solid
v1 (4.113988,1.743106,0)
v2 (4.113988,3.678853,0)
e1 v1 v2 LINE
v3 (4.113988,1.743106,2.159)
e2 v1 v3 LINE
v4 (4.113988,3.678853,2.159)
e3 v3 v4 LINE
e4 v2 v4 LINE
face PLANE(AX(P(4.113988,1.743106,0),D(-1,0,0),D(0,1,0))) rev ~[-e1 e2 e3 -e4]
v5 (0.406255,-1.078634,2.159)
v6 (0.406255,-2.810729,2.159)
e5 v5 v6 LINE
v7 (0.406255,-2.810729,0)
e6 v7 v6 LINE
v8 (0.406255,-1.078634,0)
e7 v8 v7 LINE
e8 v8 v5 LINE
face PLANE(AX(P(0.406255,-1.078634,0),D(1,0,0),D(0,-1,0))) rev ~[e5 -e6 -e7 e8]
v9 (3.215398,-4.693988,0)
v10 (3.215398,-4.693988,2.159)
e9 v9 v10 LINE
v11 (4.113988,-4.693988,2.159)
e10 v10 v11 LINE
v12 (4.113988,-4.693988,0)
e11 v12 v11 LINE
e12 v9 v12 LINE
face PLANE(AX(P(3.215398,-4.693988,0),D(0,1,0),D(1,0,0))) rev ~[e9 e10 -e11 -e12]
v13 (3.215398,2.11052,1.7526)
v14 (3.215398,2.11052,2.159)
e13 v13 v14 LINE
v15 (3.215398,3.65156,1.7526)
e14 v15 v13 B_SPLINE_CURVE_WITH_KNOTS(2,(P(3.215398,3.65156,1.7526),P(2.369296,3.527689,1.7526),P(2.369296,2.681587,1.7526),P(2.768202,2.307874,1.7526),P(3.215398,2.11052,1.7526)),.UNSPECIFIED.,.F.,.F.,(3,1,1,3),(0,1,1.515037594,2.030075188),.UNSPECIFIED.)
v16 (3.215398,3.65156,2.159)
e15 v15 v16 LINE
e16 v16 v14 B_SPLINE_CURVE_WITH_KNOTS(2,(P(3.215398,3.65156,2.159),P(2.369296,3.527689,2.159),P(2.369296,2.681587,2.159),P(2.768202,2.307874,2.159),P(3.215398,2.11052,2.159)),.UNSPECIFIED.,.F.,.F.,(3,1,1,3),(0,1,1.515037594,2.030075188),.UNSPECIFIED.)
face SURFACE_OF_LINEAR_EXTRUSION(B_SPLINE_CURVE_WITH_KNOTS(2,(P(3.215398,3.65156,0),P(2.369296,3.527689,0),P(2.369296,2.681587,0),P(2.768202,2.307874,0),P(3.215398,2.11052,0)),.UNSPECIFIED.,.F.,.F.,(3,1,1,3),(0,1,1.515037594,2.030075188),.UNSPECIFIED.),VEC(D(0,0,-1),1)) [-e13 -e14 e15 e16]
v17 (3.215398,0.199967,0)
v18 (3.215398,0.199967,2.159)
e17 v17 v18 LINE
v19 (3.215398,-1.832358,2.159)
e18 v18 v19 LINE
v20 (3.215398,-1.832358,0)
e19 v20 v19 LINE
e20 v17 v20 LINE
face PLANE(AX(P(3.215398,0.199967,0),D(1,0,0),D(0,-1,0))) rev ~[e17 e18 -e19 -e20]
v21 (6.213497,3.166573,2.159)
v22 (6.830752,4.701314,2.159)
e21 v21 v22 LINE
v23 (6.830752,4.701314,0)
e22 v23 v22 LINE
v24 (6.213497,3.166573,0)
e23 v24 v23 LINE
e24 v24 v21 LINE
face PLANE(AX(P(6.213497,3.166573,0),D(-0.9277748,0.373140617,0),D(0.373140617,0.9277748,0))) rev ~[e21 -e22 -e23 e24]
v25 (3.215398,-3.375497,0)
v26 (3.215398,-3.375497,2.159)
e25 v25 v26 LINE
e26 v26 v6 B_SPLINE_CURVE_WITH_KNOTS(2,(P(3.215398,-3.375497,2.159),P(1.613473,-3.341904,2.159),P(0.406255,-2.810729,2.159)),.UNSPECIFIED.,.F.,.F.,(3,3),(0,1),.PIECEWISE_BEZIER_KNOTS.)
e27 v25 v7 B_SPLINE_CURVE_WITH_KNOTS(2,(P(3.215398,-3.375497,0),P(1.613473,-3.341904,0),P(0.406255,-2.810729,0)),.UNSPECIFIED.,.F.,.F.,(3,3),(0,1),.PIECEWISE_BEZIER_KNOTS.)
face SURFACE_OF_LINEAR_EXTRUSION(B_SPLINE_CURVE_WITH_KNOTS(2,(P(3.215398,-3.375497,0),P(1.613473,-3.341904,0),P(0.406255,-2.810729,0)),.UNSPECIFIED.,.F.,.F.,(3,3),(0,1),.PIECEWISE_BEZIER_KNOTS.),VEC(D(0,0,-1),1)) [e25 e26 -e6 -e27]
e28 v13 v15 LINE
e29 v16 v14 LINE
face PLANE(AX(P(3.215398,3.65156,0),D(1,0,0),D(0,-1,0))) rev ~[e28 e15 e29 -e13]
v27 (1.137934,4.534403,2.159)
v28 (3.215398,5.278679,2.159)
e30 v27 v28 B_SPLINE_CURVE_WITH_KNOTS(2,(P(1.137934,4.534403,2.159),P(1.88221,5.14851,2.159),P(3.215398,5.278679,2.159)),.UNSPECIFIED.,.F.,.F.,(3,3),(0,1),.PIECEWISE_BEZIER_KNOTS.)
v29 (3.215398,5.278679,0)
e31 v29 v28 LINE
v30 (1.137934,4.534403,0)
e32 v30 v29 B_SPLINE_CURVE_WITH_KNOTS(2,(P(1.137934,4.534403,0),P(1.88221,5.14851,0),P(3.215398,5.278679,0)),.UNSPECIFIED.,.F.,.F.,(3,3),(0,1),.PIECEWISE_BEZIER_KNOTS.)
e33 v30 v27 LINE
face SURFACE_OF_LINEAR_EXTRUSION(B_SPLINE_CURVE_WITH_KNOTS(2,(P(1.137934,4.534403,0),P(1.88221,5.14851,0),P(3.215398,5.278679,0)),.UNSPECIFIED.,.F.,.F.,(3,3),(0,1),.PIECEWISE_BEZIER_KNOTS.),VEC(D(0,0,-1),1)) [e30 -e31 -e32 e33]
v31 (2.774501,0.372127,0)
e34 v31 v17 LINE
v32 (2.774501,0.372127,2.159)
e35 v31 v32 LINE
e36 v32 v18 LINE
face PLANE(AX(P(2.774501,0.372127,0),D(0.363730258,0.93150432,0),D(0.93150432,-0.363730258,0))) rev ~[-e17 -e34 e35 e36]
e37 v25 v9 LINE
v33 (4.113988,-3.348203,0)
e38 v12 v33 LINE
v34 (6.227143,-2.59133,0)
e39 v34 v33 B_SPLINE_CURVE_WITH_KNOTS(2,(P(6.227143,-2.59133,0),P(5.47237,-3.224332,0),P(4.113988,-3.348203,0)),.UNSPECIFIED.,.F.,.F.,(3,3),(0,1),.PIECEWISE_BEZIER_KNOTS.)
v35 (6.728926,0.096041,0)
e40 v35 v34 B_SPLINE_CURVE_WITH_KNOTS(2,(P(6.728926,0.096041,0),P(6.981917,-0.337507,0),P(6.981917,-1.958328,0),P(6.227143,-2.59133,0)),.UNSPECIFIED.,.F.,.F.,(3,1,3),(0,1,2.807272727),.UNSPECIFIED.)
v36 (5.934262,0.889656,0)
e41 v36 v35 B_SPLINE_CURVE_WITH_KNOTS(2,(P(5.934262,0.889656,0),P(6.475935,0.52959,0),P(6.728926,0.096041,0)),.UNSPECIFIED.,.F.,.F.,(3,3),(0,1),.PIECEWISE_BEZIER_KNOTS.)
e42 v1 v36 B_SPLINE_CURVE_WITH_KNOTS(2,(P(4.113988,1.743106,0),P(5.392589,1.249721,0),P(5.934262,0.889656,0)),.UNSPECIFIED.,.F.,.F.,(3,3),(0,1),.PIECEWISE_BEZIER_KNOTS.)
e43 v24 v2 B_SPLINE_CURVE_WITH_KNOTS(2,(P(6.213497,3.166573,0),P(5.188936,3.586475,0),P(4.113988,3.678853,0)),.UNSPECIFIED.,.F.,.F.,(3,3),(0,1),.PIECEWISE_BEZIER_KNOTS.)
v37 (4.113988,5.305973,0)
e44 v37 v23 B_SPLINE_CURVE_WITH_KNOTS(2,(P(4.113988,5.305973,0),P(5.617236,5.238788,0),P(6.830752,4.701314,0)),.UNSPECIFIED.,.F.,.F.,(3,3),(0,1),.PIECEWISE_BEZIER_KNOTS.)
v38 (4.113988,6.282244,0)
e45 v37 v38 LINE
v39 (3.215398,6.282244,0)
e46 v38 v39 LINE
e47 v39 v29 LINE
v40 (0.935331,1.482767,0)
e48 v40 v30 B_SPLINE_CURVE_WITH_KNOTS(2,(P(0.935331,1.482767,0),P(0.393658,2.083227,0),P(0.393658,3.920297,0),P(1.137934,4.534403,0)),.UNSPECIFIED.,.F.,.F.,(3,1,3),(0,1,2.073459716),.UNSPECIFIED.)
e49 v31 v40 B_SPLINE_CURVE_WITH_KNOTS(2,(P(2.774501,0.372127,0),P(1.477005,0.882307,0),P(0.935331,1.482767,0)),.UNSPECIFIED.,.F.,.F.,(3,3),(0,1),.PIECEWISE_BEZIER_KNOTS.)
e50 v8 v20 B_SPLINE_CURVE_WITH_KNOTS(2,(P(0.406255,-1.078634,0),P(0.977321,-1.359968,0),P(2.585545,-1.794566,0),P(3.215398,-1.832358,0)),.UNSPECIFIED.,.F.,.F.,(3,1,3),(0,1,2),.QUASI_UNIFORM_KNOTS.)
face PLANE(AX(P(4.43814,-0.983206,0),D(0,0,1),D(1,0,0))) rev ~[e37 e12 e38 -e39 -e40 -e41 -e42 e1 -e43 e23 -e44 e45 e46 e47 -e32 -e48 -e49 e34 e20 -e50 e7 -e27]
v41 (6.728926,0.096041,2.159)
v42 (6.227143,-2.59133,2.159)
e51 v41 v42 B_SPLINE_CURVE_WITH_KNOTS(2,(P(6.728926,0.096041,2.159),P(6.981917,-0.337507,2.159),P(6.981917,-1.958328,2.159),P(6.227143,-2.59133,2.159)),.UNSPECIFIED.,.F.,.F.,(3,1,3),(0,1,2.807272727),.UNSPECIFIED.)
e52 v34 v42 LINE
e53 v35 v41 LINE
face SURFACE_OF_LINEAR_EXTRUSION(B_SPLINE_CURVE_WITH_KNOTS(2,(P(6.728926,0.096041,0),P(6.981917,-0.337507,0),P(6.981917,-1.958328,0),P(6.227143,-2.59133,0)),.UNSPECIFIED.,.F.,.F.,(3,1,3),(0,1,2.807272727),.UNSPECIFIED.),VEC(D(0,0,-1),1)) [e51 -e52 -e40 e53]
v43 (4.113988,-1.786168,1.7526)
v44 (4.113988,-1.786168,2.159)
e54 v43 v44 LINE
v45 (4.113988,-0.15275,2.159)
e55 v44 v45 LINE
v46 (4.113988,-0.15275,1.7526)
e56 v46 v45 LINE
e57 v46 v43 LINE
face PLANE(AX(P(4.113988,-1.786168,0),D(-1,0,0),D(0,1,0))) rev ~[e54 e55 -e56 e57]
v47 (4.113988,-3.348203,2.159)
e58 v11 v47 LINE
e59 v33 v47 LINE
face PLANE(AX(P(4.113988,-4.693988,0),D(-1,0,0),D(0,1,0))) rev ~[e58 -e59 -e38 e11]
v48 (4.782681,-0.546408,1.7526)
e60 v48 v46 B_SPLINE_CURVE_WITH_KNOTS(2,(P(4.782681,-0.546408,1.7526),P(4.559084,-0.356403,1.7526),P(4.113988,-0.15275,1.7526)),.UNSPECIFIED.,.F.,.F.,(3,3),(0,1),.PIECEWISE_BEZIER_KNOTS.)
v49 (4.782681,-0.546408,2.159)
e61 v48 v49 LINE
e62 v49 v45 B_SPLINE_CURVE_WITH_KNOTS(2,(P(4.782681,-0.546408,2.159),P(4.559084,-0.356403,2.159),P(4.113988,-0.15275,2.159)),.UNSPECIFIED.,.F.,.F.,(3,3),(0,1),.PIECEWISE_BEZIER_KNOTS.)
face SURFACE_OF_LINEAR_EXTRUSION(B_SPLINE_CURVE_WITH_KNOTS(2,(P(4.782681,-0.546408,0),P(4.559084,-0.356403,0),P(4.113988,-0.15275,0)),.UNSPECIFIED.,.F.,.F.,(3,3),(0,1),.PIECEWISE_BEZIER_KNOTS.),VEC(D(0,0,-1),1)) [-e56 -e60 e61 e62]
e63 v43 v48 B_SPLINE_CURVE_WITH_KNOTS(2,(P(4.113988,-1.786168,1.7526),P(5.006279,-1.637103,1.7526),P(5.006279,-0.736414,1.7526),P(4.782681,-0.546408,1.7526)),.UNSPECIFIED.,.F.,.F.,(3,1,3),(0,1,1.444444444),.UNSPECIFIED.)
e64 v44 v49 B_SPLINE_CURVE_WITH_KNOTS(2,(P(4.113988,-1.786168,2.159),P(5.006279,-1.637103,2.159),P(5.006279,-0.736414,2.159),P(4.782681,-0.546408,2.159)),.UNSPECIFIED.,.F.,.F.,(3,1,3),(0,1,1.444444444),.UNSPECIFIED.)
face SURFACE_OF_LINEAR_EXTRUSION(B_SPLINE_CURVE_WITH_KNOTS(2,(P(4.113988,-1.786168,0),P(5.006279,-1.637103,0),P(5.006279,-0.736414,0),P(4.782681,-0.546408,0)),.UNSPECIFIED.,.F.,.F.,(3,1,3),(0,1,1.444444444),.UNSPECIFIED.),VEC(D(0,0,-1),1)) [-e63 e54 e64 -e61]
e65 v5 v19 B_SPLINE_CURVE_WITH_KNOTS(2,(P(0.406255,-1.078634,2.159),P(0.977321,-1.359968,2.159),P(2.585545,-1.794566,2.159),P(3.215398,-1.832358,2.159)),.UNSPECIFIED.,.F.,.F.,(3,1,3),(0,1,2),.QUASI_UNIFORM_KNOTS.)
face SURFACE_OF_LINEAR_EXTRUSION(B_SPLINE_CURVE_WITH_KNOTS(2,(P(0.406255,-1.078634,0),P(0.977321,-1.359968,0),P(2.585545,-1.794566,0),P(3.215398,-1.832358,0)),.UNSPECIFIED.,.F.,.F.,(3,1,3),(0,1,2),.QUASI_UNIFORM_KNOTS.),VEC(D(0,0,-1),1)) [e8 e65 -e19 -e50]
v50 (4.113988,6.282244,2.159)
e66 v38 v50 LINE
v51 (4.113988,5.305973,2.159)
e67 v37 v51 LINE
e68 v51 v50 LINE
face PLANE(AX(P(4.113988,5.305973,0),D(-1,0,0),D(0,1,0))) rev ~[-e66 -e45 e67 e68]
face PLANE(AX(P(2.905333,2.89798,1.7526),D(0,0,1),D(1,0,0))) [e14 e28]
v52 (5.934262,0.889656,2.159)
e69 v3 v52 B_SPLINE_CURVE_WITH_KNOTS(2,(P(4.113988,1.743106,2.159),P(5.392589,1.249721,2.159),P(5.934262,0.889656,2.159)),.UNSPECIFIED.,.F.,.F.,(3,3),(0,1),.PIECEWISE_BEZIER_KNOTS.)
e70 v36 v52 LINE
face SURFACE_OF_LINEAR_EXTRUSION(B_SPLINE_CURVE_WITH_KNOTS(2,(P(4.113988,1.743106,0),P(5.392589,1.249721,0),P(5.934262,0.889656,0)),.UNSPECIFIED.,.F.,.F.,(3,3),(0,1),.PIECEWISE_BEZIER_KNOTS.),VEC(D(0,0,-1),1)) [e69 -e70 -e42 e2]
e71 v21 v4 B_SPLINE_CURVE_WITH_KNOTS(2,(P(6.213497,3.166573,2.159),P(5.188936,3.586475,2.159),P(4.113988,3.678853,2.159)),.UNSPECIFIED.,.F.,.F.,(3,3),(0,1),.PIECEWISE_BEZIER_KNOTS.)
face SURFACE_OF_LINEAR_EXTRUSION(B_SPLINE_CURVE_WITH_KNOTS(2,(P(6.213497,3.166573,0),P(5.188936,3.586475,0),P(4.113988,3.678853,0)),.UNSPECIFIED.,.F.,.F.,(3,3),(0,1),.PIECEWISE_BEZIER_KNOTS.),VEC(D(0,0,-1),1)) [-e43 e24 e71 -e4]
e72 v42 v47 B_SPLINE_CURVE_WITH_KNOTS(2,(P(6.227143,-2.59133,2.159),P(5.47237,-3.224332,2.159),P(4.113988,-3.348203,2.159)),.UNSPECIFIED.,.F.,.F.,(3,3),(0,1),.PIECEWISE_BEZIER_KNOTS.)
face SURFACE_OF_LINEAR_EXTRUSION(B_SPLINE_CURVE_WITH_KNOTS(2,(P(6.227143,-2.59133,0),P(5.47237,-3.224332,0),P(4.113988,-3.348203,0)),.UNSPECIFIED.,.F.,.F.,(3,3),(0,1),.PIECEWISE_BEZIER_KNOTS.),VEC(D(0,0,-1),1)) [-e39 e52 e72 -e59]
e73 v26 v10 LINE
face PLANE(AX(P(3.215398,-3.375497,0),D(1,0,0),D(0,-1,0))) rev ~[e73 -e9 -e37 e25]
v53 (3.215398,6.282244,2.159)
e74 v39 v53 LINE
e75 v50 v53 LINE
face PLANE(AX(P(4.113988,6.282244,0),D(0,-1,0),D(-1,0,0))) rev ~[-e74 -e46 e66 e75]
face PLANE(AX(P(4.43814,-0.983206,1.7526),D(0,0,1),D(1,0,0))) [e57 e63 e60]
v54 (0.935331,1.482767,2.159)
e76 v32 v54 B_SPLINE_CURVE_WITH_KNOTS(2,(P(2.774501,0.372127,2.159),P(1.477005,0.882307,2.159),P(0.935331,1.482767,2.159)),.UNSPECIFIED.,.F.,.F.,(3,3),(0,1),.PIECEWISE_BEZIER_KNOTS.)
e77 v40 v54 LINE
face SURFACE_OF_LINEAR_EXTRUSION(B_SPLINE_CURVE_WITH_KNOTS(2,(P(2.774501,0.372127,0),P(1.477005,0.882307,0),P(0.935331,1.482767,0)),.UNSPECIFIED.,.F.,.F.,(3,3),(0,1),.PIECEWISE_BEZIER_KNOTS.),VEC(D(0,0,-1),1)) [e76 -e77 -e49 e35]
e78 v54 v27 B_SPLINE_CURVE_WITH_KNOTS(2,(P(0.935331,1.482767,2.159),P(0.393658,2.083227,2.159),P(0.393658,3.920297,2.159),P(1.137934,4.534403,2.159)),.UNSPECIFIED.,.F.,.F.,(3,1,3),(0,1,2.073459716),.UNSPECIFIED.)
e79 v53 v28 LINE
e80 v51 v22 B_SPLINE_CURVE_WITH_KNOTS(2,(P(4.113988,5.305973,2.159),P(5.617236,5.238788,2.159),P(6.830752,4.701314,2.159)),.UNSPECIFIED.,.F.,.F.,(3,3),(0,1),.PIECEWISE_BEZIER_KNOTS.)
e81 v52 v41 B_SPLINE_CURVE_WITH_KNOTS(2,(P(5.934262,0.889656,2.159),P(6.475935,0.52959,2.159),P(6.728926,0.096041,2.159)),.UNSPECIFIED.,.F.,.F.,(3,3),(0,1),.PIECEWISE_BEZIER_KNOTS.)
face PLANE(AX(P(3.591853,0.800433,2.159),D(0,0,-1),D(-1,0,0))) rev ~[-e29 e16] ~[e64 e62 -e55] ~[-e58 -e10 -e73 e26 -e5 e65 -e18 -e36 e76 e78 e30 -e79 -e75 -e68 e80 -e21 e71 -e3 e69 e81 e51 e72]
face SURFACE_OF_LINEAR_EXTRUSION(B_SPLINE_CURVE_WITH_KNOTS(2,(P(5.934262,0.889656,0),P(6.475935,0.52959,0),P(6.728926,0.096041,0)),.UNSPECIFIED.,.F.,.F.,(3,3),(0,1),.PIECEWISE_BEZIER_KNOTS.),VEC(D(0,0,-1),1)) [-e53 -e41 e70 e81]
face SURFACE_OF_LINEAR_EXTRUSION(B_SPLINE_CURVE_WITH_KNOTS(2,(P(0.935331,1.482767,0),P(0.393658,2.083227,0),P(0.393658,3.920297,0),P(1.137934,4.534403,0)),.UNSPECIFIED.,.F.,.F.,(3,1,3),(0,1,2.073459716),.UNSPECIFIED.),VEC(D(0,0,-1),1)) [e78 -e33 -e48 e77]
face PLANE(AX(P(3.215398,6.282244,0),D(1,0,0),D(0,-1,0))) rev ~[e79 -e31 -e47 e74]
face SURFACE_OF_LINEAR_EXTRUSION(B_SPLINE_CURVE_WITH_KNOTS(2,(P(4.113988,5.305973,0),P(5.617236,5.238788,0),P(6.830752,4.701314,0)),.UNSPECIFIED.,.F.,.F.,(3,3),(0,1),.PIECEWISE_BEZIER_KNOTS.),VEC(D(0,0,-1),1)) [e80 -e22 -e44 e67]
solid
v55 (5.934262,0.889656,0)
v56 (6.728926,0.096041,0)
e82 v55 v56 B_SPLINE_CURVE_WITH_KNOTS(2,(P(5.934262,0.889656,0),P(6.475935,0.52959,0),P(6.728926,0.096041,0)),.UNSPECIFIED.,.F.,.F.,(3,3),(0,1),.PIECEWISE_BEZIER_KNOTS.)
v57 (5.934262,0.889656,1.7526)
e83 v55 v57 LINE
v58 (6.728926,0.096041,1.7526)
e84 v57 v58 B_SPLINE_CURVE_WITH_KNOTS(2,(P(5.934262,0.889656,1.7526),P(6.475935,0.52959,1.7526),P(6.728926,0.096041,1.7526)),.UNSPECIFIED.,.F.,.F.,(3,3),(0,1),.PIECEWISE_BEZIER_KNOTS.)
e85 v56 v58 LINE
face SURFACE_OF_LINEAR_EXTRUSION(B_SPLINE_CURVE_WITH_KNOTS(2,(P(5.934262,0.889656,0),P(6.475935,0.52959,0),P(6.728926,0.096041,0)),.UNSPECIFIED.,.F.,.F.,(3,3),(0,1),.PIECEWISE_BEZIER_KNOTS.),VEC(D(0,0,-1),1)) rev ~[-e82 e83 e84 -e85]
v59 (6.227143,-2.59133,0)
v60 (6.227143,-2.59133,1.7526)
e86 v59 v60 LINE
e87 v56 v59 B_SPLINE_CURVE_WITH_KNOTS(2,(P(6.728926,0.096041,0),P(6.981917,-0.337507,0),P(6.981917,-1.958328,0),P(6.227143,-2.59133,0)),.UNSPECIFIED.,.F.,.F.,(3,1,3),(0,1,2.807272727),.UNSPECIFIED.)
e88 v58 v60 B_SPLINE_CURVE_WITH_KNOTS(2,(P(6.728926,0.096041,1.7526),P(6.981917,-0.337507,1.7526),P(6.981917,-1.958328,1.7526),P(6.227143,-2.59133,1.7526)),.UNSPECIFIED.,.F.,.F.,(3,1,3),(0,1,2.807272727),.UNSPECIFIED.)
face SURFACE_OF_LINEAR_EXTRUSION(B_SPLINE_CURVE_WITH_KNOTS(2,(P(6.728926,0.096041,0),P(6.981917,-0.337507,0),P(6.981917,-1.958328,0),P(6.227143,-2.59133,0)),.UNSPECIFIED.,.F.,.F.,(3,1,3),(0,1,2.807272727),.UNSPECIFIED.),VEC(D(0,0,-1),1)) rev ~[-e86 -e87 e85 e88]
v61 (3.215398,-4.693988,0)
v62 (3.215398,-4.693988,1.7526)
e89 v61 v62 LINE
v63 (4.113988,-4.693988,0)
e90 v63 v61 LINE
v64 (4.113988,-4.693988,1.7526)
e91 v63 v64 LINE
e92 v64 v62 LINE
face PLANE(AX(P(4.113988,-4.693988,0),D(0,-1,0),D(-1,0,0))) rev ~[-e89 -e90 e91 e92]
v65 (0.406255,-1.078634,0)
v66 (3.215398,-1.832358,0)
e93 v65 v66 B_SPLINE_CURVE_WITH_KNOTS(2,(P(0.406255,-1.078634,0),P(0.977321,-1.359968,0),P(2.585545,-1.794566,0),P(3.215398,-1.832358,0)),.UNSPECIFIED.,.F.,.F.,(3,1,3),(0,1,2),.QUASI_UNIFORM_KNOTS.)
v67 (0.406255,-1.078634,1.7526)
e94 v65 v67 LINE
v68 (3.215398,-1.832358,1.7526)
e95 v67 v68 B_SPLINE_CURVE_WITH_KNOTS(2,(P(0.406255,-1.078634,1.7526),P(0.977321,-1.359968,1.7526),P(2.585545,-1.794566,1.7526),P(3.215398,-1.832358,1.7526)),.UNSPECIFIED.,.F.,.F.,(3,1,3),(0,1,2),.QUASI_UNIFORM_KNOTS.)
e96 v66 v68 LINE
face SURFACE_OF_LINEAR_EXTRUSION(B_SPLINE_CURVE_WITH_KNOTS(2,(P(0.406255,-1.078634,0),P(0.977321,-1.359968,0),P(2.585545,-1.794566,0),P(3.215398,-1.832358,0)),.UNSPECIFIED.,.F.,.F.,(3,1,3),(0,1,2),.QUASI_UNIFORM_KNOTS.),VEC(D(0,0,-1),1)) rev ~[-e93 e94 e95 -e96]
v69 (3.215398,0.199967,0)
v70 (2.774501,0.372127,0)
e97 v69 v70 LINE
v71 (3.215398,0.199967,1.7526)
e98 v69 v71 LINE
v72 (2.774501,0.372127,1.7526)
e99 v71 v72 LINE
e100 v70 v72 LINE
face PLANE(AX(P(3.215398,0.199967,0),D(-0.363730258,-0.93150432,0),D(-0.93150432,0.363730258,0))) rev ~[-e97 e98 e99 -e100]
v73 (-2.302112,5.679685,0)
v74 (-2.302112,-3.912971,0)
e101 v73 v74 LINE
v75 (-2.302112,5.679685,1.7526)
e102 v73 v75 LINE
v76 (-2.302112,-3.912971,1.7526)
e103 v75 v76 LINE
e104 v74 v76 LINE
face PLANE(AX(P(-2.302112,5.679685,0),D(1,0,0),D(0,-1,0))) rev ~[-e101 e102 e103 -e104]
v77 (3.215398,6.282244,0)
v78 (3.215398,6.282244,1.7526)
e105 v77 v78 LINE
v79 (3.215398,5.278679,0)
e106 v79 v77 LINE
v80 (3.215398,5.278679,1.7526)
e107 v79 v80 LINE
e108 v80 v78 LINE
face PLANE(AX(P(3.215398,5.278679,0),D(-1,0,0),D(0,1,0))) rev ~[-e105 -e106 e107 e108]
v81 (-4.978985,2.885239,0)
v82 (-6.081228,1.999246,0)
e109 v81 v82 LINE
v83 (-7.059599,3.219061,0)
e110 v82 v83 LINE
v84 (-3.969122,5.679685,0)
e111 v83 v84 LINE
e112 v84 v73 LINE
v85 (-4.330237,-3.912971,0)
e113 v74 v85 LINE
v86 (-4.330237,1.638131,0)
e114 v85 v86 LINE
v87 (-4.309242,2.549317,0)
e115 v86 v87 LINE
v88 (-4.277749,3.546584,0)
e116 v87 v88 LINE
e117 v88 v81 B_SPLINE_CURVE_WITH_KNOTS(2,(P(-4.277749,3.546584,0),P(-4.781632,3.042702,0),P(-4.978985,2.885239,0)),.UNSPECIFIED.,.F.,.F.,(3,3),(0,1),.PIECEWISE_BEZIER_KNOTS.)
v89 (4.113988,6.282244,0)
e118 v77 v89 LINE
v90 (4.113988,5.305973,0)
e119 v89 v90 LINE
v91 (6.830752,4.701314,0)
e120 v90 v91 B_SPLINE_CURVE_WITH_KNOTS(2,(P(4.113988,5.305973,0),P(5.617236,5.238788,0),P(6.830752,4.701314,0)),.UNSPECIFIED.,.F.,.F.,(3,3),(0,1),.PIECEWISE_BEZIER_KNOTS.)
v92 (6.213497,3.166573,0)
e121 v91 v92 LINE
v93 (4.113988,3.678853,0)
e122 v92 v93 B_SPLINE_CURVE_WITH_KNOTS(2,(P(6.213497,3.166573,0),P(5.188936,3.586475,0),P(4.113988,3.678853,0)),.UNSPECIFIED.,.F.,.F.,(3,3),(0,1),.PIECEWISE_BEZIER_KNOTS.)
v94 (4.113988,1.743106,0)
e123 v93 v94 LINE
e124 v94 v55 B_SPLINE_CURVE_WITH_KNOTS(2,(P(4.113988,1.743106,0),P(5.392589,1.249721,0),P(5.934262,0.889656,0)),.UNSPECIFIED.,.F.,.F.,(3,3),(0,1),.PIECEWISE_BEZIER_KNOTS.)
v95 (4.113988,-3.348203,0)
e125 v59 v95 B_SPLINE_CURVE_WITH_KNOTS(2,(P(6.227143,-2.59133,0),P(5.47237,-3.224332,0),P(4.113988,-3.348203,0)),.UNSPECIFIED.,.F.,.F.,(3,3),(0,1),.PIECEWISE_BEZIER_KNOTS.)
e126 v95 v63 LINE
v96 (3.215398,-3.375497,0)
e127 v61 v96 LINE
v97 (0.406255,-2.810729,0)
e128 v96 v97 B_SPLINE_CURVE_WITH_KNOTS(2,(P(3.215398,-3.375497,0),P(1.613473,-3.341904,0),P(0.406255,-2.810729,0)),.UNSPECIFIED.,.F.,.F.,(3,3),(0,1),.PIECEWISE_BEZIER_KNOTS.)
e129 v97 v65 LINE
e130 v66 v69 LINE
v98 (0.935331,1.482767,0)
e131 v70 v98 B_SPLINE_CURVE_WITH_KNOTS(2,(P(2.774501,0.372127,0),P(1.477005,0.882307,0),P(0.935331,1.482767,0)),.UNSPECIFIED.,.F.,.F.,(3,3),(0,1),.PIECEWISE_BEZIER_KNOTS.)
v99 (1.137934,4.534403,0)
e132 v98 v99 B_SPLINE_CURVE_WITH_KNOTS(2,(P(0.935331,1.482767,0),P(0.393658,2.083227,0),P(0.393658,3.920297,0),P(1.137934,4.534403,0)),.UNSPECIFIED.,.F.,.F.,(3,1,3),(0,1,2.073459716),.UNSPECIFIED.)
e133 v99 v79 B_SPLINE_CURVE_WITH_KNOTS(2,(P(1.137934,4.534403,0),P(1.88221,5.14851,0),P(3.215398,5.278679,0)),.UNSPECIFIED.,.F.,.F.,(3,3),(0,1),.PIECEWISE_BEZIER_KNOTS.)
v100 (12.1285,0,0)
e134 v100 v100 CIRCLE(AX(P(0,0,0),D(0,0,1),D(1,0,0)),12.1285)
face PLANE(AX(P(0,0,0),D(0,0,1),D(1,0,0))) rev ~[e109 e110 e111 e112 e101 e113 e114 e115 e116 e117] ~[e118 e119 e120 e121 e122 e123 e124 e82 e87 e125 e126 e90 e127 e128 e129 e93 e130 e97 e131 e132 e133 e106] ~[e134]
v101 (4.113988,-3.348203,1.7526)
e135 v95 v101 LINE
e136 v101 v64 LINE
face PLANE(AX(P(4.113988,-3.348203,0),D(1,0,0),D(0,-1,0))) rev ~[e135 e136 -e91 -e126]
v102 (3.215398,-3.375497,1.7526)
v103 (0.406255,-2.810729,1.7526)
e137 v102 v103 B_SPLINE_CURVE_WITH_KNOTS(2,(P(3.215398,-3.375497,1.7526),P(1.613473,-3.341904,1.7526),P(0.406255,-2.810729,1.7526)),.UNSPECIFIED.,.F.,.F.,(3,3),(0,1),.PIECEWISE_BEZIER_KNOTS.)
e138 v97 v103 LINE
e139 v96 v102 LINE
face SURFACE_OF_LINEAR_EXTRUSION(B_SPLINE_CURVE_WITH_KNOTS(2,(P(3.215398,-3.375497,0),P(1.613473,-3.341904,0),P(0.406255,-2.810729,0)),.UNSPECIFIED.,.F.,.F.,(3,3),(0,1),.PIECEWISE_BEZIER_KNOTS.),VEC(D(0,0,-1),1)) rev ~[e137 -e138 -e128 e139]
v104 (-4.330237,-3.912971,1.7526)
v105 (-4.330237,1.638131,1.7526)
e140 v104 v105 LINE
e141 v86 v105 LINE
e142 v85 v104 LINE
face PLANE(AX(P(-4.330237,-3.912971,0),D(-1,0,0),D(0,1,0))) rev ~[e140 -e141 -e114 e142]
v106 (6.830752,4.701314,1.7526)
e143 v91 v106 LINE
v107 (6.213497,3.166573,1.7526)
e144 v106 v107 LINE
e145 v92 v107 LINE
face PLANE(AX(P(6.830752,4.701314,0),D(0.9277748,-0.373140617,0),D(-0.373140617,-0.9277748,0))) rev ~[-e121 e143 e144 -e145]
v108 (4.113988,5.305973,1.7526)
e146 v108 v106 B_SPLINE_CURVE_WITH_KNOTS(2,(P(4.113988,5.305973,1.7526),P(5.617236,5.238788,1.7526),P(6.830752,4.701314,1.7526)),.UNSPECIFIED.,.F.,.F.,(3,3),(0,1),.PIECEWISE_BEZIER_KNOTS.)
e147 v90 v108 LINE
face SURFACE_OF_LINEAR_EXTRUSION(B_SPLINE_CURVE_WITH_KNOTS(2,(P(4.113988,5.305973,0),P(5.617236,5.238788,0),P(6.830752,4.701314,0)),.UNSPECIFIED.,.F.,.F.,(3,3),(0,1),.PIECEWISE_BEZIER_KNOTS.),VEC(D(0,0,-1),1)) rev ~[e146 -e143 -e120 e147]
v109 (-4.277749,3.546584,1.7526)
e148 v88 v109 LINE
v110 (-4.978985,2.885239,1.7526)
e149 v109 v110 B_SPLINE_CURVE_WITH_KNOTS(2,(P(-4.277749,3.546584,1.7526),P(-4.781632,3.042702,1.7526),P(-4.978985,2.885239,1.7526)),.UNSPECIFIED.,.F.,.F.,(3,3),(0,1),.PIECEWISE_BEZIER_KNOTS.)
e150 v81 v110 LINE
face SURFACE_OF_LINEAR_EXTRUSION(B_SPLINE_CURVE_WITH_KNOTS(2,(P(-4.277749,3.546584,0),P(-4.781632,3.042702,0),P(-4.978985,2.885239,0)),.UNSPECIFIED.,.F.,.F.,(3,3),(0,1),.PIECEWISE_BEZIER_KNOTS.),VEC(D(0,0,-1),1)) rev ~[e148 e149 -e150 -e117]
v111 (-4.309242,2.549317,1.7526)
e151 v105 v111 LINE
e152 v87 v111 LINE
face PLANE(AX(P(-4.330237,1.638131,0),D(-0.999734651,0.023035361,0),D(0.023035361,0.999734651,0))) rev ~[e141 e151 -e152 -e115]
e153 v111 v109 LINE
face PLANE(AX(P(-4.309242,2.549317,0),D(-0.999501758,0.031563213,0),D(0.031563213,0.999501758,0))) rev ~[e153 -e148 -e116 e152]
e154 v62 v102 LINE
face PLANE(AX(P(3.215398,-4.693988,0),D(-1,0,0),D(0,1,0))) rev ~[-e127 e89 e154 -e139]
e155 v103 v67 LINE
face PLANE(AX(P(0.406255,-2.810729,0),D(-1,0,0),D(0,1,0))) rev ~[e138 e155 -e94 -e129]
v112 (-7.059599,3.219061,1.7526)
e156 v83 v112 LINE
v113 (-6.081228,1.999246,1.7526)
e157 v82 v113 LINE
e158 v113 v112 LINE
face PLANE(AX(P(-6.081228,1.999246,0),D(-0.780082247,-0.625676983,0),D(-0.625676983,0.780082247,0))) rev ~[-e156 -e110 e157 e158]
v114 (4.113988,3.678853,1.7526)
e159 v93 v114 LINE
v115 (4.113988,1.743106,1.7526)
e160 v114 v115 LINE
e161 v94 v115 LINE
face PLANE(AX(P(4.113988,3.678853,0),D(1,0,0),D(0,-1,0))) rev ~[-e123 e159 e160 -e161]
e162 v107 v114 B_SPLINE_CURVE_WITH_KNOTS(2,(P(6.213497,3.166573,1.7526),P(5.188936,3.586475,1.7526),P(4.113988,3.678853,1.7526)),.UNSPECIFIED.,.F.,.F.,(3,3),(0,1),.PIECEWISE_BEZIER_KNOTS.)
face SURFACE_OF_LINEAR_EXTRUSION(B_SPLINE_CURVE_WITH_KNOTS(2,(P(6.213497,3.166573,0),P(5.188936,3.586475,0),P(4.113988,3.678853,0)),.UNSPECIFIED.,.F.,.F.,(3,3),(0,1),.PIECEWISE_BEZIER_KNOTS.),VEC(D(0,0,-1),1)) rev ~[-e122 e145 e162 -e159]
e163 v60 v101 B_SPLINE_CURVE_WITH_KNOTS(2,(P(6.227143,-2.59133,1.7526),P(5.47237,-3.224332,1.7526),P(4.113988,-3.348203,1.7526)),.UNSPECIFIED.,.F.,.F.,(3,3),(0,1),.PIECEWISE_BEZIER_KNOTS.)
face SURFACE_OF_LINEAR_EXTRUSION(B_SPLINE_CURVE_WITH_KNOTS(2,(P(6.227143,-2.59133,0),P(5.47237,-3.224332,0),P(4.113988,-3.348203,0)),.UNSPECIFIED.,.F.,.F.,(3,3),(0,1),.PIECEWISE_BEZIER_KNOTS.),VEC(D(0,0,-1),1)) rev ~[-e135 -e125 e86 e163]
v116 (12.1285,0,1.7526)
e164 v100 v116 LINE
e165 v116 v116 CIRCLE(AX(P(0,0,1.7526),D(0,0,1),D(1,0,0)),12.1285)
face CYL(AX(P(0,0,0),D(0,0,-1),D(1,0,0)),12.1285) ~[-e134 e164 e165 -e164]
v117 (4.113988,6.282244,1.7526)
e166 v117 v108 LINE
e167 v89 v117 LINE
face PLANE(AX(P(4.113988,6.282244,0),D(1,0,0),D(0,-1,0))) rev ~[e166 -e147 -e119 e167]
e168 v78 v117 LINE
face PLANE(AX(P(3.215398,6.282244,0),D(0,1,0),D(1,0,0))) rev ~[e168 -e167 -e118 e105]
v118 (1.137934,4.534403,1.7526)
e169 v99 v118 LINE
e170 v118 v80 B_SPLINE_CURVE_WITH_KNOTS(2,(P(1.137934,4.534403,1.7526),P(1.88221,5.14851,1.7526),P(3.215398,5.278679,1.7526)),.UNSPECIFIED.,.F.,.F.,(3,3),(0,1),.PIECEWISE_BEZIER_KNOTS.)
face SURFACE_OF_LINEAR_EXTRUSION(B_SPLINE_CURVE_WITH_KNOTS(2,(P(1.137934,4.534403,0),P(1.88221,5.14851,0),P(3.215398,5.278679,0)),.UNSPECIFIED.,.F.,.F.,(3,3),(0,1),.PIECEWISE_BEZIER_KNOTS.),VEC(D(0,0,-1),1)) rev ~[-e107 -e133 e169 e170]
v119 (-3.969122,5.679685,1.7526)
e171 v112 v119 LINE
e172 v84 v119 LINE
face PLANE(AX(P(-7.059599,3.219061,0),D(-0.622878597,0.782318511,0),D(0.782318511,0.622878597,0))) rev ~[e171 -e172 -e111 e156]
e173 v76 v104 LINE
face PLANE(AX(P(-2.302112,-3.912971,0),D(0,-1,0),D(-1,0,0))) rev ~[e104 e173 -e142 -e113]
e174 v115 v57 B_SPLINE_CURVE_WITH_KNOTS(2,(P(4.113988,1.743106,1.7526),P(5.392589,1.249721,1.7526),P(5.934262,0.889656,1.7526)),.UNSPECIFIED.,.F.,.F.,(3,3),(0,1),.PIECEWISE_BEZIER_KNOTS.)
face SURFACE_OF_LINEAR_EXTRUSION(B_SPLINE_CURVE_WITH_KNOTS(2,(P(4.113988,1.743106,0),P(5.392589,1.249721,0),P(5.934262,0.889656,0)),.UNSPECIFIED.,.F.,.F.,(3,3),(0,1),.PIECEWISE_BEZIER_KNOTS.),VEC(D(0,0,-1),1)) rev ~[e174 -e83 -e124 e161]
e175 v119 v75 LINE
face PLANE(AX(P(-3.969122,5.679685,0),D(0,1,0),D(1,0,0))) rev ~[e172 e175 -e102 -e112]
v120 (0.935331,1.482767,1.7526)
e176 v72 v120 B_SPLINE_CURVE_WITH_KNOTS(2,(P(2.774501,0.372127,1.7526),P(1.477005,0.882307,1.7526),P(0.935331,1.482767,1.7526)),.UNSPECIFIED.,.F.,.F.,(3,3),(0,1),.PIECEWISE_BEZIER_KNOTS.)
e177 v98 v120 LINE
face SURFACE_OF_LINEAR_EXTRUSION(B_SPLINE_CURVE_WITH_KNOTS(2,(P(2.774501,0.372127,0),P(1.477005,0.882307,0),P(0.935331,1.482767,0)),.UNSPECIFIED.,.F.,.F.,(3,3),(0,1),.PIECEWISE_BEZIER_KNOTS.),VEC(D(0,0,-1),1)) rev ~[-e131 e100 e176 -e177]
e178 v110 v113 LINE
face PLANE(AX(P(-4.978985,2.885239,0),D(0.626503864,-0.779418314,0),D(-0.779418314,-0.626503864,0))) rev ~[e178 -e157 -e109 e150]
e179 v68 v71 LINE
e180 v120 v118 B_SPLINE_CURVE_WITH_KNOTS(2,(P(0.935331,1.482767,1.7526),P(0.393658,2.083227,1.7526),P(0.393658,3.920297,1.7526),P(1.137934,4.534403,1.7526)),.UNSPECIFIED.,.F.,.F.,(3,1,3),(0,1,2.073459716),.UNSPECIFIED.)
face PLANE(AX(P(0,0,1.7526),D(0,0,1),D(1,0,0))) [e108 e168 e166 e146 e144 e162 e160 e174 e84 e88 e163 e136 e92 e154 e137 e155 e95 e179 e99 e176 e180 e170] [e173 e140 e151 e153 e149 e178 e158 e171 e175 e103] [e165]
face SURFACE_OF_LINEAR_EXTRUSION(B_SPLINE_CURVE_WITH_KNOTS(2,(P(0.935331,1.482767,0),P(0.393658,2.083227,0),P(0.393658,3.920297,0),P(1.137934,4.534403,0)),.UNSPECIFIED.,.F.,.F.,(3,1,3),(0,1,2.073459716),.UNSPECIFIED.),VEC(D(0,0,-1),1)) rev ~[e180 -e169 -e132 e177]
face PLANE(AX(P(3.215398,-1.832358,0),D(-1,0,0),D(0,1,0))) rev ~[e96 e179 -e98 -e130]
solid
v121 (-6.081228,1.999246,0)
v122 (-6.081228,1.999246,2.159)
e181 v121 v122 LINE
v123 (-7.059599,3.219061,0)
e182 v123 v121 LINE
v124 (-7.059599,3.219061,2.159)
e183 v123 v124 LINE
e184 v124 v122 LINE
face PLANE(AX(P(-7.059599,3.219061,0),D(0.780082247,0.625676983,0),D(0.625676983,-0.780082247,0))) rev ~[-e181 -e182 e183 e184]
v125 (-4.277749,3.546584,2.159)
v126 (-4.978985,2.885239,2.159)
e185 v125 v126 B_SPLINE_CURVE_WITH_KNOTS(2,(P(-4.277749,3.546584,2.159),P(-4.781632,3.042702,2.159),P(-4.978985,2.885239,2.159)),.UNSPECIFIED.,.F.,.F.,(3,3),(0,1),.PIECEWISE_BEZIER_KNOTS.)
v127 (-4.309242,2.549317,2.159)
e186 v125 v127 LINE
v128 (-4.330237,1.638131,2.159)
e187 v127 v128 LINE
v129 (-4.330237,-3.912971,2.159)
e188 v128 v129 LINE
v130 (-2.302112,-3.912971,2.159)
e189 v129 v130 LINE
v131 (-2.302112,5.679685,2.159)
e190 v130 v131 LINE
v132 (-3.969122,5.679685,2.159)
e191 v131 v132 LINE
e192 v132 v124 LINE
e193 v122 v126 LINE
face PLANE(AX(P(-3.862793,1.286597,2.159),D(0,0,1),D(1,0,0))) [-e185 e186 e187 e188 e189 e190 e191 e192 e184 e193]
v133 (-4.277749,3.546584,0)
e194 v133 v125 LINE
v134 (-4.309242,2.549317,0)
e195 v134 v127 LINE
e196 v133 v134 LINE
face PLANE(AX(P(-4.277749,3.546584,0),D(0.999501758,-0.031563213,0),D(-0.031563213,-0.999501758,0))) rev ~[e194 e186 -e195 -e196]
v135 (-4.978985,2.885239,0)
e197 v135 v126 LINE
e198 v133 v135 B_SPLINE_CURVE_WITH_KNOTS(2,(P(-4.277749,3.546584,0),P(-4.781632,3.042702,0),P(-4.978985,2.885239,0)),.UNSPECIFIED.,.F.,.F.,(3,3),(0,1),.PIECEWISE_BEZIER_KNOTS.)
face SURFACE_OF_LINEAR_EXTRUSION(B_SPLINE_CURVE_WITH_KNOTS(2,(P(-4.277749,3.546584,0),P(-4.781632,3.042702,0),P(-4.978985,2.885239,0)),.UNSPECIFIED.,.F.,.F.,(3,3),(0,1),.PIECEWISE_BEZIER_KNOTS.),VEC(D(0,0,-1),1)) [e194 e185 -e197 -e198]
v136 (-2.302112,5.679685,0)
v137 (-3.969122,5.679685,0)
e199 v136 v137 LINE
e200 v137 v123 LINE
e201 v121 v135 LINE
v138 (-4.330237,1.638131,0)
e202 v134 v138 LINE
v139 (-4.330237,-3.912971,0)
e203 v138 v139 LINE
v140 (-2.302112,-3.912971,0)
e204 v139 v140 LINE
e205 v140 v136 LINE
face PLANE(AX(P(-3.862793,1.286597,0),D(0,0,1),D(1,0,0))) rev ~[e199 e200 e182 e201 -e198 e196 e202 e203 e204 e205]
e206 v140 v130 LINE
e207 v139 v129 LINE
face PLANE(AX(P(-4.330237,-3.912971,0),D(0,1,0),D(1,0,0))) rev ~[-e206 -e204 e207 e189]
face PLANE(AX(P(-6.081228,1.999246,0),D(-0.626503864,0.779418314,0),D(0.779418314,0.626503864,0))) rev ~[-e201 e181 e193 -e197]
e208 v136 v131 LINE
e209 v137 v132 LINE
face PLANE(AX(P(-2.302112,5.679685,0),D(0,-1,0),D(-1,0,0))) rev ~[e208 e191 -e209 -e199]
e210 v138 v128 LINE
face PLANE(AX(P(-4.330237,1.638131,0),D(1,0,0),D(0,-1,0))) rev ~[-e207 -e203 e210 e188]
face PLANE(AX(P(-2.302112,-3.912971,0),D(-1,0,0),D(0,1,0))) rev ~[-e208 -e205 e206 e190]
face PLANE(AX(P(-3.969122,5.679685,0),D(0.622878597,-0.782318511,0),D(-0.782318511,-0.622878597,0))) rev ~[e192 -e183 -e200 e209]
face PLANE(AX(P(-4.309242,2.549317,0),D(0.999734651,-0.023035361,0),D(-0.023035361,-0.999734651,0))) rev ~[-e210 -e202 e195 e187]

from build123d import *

# Parameters (mm, degrees)
F1_DEPTH = 2.159
F2_DEPTH = 2.159
F3_DEPTH = 1.7526
F4_DEPTH = 1.7526
F0_R     = 12.1285
F5_DEPTH = 1.7526


with BuildPart() as f1:
    # F0 (on Top) → F1 (new body)
    with BuildSketch(Plane.XY):
        with BuildLine():
            Line((-4.3302370993, -3.9129708894), (-2.3021115051, -3.9129708894))
            Line((-2.3021115051, -3.9129708894), (-2.3021115051, 5.6796852593))
            Line((-2.3021115051, 5.6796852593), (-3.969121569, 5.6796852593))
            Line((-3.969121569, 5.6796852593), (-7.0595986649, 3.2190608324))
            Line((-7.0595986649, 3.2190608324), (-6.081227519, 1.9992461635))
            Line((-6.081227519, 1.9992461635), (-4.9789853483, 2.8852389179))
            add(Edge.make_bspline(
                [(-4.2777493768, 3.5465842203), (-4.781631512, 3.0427020851), (-4.9789853483, 2.8852389179)],
                knots=[0, 0, 0, 1, 1, 1], degree=2))
            Line((-4.2777493768, 3.5465842203), (-4.3092420103, 2.5493174944))
            Line((-4.3092420103, 2.5493174944), (-4.3302370993, 1.6381306333))
            Line((-4.3302370993, 1.6381306333), (-4.3302370993, -3.9129708894))
        make_face()
    extrude(amount=F1_DEPTH)


with BuildPart() as f2:
    # F0 (on Top) → F2 (new body)
    with BuildSketch(Plane.XY):
        with BuildLine():
            add(Edge.make_bspline(
                [(6.9819168357, -0.914872185), (6.9819168357, -1.9583281066), (6.2271433874, -2.5913300389)],
                knots=[0, 0, 0, 1, 1, 1], degree=2))
            add(Edge.make_bspline(
                [(6.7289260136, 0.0960413487), (6.9819168357, -0.3375072384), (6.9819168357, -0.914872185)],
                knots=[0, 0, 0, 1, 1, 1], degree=2))
            add(Edge.make_bspline(
                [(5.9342618963, 0.8896557116), (6.4759351916, 0.5295899359), (6.7289260136, 0.0960413487)],
                knots=[0, 0, 0, 1, 1, 1], degree=2))
            add(Edge.make_bspline(
                [(4.1139876829, 1.7431060781), (5.3925886009, 1.2497214874), (5.9342618963, 0.8896557116)],
                knots=[0, 0, 0, 1, 1, 1], degree=2))
            Line((4.1139876829, 1.7431060781), (4.1139876829, 3.6788532808))
            add(Edge.make_bspline(
                [(6.2134965795, 3.16657311), (5.188936238, 3.5864748893), (4.1139876829, 3.6788532808)],
                knots=[0, 0, 0, 1, 1, 1], degree=2))
            Line((6.2134965795, 3.16657311), (6.8307521951, 4.7013141134))
            add(Edge.make_bspline(
                [(4.1139876829, 5.3059726757), (5.6172360529, 5.238788391), (6.8307521951, 4.7013141134)],
                knots=[0, 0, 0, 1, 1, 1], degree=2))
            Line((4.1139876829, 5.3059726757), (4.1139876829, 6.2822443126))
            Line((4.1139876829, 6.2822443126), (3.2153978752, 6.2822443126))
            Line((3.2153978752, 6.2822443126), (3.2153978752, 5.27867906))
            add(Edge.make_bspline(
                [(1.137933822, 4.5344031562), (1.8822097258, 5.1485095084), (3.2153978752, 5.27867906)],
                knots=[0, 0, 0, 1, 1, 1], degree=2))
            add(Edge.make_bspline(
                [(0.3936579181, 2.9692192737), (0.3936579181, 3.9202968039), (1.137933822, 4.5344031562)],
                knots=[0, 0, 0, 1, 1, 1], degree=2))
            add(Edge.make_bspline(
                [(0.9353312134, 1.4827669749), (0.3936579181, 2.0832265194), (0.3936579181, 2.9692192737)],
                knots=[0, 0, 0, 1, 1, 1], degree=2))
            add(Edge.make_bspline(
                [(2.7745010069, 0.3721267686), (1.4770045088, 0.8823074305), (0.9353312134, 1.4827669749)],
                knots=[0, 0, 0, 1, 1, 1], degree=2))
            Line((2.7745010069, 0.3721267686), (3.2153978752, 0.1999670391))
            Line((3.2153978752, 0.1999670391), (3.2153978752, -1.8323575728))
            add(Edge.make_bspline(
                [(1.7814332988, -1.5772672419), (2.5855452062, -1.7945664127), (3.2153978752, -1.8323575728)],
                knots=[0, 0, 0, 1, 1, 1], degree=2))
            add(Edge.make_bspline(
                [(0.4062549715, -1.0786338789), (0.9773213914, -1.3599680711), (1.7814332988, -1.5772672419)],
                knots=[0, 0, 0, 1, 1, 1], degree=2))
            Line((0.4062549715, -1.0786338789), (0.4062549715, -2.8107287186))
            add(Edge.make_bspline(
                [(3.2153978752, -3.3754966118), (1.613472587, -3.3419044695), (0.4062549715, -2.8107287186)],
                knots=[0, 0, 0, 1, 1, 1], degree=2))
            Line((3.2153978752, -3.3754966118), (3.2153978752, -4.6939881989))
            Line((3.2153978752, -4.6939881989), (4.1139876829, -4.6939881989))
            Line((4.1139876829, -4.6939881989), (4.1139876829, -3.3482029962))
            add(Edge.make_bspline(
                [(6.2271433874, -2.5913300389), (5.472369939, -3.2243319713), (4.1139876829, -3.3482029962)],
                knots=[0, 0, 0, 1, 1, 1], degree=2))
        make_face()
        with BuildLine():
            add(Edge.make_bspline(
                [(5.006278964, -1.0135491031), (5.006278964, -0.7364139288), (4.7826812665, -0.5464083736)],
                knots=[0, 0, 0, 1, 1, 1], degree=2))
            add(Edge.make_bspline(
                [(4.1139876829, -1.7861683771), (5.006278964, -1.6371032454), (5.006278964, -1.0135491031)],
                knots=[0, 0, 0, 1, 1, 1], degree=2))
            Line((4.1139876829, -1.7861683771), (4.1139876829, -0.1527504555))
            add(Edge.make_bspline(
                [(4.7826812665, -0.5464083736), (4.559083569, -0.3564028185), (4.1139876829, -0.1527504555)],
                knots=[0, 0, 0, 1, 1, 1], degree=2))
        make_face(mode=Mode.SUBTRACT)
        with BuildLine():
            add(Edge.make_bspline(
                [(2.3692957898, 2.9692192737), (2.3692957898, 2.6815865549), (2.568749135, 2.4947302631)],
                knots=[0, 0, 0, 1, 1, 1], degree=2))
            add(Edge.make_bspline(
                [(3.2153978752, 3.6515596651), (2.3692957898, 3.5276886402), (2.3692957898, 2.9692192737)],
                knots=[0, 0, 0, 1, 1, 1], degree=2))
            Line((3.2153978752, 3.6515596651), (3.2153978752, 2.110520135))
            add(Edge.make_bspline(
                [(2.568749135, 2.4947302631), (2.7682024802, 2.3078739713), (3.2153978752, 2.110520135)],
                knots=[0, 0, 0, 1, 1, 1], degree=2))
        make_face(mode=Mode.SUBTRACT)
    extrude(amount=F2_DEPTH)

    # F0 (on Top) → F3 (join)
    with BuildSketch(Plane.XY):
        with BuildLine():
            add(Edge.make_bspline(
                [(3.2153978752, 3.6515596651), (2.3692957898, 3.5276886402), (2.3692957898, 2.9692192737)],
                knots=[0, 0, 0, 1, 1, 1], degree=2))
            add(Edge.make_bspline(
                [(2.3692957898, 2.9692192737), (2.3692957898, 2.6815865549), (2.568749135, 2.4947302631)],
                knots=[0, 0, 0, 1, 1, 1], degree=2))
            add(Edge.make_bspline(
                [(2.568749135, 2.4947302631), (2.7682024802, 2.3078739713), (3.2153978752, 2.110520135)],
                knots=[0, 0, 0, 1, 1, 1], degree=2))
            Line((3.2153978752, 2.110520135), (3.2153978752, 3.6515596651))
        make_face()
    extrude(amount=F3_DEPTH)

    # F0 (on Top) → F4 (join)
    with BuildSketch(Plane.XY):
        with BuildLine():
            add(Edge.make_bspline(
                [(4.1139876829, -1.7861683771), (5.006278964, -1.6371032454), (5.006278964, -1.0135491031)],
                knots=[0, 0, 0, 1, 1, 1], degree=2))
            add(Edge.make_bspline(
                [(5.006278964, -1.0135491031), (5.006278964, -0.7364139288), (4.7826812665, -0.5464083736)],
                knots=[0, 0, 0, 1, 1, 1], degree=2))
            add(Edge.make_bspline(
                [(4.7826812665, -0.5464083736), (4.559083569, -0.3564028185), (4.1139876829, -0.1527504555)],
                knots=[0, 0, 0, 1, 1, 1], degree=2))
            Line((4.1139876829, -0.1527504555), (4.1139876829, -1.7861683771))
        make_face()
    extrude(amount=F4_DEPTH)


with BuildPart() as f5:
    # F0 (on Top) → F5 (new body)
    with BuildSketch(Plane.XY):
        Circle(F0_R)
        with BuildLine():
            Line((-2.3021115051, 5.6796852593), (-2.3021115051, -3.9129708894))
            Line((-2.3021115051, -3.9129708894), (-4.3302370993, -3.9129708894))
            Line((-4.3302370993, -3.9129708894), (-4.3302370993, 1.6381306333))
            Line((-4.3302370993, 1.6381306333), (-4.3092420103, 2.5493174944))
            Line((-4.3092420103, 2.5493174944), (-4.2777493768, 3.5465842203))
            add(Edge.make_bspline(
                [(-4.2777493768, 3.5465842203), (-4.781631512, 3.0427020851), (-4.9789853483, 2.8852389179)],
                knots=[0, 0, 0, 1, 1, 1], degree=2))
            Line((-4.9789853483, 2.8852389179), (-6.081227519, 1.9992461635))
            Line((-6.081227519, 1.9992461635), (-7.0595986649, 3.2190608324))
            Line((-7.0595986649, 3.2190608324), (-3.969121569, 5.6796852593))
            Line((-3.969121569, 5.6796852593), (-2.3021115051, 5.6796852593))
        make_face(mode=Mode.SUBTRACT)
        with BuildLine():
            add(Edge.make_bspline(
                [(6.7289260136, 0.0960413487), (6.9819168357, -0.3375072384), (6.9819168357, -0.914872185)],
                knots=[0, 0, 0, 1, 1, 1], degree=2))
            add(Edge.make_bspline(
                [(6.9819168357, -0.914872185), (6.9819168357, -1.9583281066), (6.2271433874, -2.5913300389)],
                knots=[0, 0, 0, 1, 1, 1], degree=2))
            add(Edge.make_bspline(
                [(6.2271433874, -2.5913300389), (5.472369939, -3.2243319713), (4.1139876829, -3.3482029962)],
                knots=[0, 0, 0, 1, 1, 1], degree=2))
            Line((4.1139876829, -3.3482029962), (4.1139876829, -4.6939881989))
            Line((4.1139876829, -4.6939881989), (3.2153978752, -4.6939881989))
            Line((3.2153978752, -4.6939881989), (3.2153978752, -3.3754966118))
            add(Edge.make_bspline(
                [(3.2153978752, -3.3754966118), (1.613472587, -3.3419044695), (0.4062549715, -2.8107287186)],
                knots=[0, 0, 0, 1, 1, 1], degree=2))
            Line((0.4062549715, -2.8107287186), (0.4062549715, -1.0786338789))
            add(Edge.make_bspline(
                [(0.4062549715, -1.0786338789), (0.9773213914, -1.3599680711), (1.7814332988, -1.5772672419)],
                knots=[0, 0, 0, 1, 1, 1], degree=2))
            add(Edge.make_bspline(
                [(1.7814332988, -1.5772672419), (2.5855452062, -1.7945664127), (3.2153978752, -1.8323575728)],
                knots=[0, 0, 0, 1, 1, 1], degree=2))
            Line((3.2153978752, -1.8323575728), (3.2153978752, 0.1999670391))
            Line((3.2153978752, 0.1999670391), (2.7745010069, 0.3721267686))
            add(Edge.make_bspline(
                [(2.7745010069, 0.3721267686), (1.4770045088, 0.8823074305), (0.9353312134, 1.4827669749)],
                knots=[0, 0, 0, 1, 1, 1], degree=2))
            add(Edge.make_bspline(
                [(0.9353312134, 1.4827669749), (0.3936579181, 2.0832265194), (0.3936579181, 2.9692192737)],
                knots=[0, 0, 0, 1, 1, 1], degree=2))
            add(Edge.make_bspline(
                [(0.3936579181, 2.9692192737), (0.3936579181, 3.9202968039), (1.137933822, 4.5344031562)],
                knots=[0, 0, 0, 1, 1, 1], degree=2))
            add(Edge.make_bspline(
                [(1.137933822, 4.5344031562), (1.8822097258, 5.1485095084), (3.2153978752, 5.27867906)],
                knots=[0, 0, 0, 1, 1, 1], degree=2))
            Line((3.2153978752, 5.27867906), (3.2153978752, 6.2822443126))
            Line((3.2153978752, 6.2822443126), (4.1139876829, 6.2822443126))
            Line((4.1139876829, 6.2822443126), (4.1139876829, 5.3059726757))
            add(Edge.make_bspline(
                [(4.1139876829, 5.3059726757), (5.6172360529, 5.238788391), (6.8307521951, 4.7013141134)],
                knots=[0, 0, 0, 1, 1, 1], degree=2))
            Line((6.8307521951, 4.7013141134), (6.2134965795, 3.16657311))
            add(Edge.make_bspline(
                [(6.2134965795, 3.16657311), (5.188936238, 3.5864748893), (4.1139876829, 3.6788532808)],
                knots=[0, 0, 0, 1, 1, 1], degree=2))
            Line((4.1139876829, 3.6788532808), (4.1139876829, 1.7431060781))
            add(Edge.make_bspline(
                [(4.1139876829, 1.7431060781), (5.3925886009, 1.2497214874), (5.9342618963, 0.8896557116)],
                knots=[0, 0, 0, 1, 1, 1], degree=2))
            add(Edge.make_bspline(
                [(5.9342618963, 0.8896557116), (6.4759351916, 0.5295899359), (6.7289260136, 0.0960413487)],
                knots=[0, 0, 0, 1, 1, 1], degree=2))
        make_face(mode=Mode.SUBTRACT)
    extrude(amount=F5_DEPTH)


solid = Compound([f1.part, f2.part, f5.part])
